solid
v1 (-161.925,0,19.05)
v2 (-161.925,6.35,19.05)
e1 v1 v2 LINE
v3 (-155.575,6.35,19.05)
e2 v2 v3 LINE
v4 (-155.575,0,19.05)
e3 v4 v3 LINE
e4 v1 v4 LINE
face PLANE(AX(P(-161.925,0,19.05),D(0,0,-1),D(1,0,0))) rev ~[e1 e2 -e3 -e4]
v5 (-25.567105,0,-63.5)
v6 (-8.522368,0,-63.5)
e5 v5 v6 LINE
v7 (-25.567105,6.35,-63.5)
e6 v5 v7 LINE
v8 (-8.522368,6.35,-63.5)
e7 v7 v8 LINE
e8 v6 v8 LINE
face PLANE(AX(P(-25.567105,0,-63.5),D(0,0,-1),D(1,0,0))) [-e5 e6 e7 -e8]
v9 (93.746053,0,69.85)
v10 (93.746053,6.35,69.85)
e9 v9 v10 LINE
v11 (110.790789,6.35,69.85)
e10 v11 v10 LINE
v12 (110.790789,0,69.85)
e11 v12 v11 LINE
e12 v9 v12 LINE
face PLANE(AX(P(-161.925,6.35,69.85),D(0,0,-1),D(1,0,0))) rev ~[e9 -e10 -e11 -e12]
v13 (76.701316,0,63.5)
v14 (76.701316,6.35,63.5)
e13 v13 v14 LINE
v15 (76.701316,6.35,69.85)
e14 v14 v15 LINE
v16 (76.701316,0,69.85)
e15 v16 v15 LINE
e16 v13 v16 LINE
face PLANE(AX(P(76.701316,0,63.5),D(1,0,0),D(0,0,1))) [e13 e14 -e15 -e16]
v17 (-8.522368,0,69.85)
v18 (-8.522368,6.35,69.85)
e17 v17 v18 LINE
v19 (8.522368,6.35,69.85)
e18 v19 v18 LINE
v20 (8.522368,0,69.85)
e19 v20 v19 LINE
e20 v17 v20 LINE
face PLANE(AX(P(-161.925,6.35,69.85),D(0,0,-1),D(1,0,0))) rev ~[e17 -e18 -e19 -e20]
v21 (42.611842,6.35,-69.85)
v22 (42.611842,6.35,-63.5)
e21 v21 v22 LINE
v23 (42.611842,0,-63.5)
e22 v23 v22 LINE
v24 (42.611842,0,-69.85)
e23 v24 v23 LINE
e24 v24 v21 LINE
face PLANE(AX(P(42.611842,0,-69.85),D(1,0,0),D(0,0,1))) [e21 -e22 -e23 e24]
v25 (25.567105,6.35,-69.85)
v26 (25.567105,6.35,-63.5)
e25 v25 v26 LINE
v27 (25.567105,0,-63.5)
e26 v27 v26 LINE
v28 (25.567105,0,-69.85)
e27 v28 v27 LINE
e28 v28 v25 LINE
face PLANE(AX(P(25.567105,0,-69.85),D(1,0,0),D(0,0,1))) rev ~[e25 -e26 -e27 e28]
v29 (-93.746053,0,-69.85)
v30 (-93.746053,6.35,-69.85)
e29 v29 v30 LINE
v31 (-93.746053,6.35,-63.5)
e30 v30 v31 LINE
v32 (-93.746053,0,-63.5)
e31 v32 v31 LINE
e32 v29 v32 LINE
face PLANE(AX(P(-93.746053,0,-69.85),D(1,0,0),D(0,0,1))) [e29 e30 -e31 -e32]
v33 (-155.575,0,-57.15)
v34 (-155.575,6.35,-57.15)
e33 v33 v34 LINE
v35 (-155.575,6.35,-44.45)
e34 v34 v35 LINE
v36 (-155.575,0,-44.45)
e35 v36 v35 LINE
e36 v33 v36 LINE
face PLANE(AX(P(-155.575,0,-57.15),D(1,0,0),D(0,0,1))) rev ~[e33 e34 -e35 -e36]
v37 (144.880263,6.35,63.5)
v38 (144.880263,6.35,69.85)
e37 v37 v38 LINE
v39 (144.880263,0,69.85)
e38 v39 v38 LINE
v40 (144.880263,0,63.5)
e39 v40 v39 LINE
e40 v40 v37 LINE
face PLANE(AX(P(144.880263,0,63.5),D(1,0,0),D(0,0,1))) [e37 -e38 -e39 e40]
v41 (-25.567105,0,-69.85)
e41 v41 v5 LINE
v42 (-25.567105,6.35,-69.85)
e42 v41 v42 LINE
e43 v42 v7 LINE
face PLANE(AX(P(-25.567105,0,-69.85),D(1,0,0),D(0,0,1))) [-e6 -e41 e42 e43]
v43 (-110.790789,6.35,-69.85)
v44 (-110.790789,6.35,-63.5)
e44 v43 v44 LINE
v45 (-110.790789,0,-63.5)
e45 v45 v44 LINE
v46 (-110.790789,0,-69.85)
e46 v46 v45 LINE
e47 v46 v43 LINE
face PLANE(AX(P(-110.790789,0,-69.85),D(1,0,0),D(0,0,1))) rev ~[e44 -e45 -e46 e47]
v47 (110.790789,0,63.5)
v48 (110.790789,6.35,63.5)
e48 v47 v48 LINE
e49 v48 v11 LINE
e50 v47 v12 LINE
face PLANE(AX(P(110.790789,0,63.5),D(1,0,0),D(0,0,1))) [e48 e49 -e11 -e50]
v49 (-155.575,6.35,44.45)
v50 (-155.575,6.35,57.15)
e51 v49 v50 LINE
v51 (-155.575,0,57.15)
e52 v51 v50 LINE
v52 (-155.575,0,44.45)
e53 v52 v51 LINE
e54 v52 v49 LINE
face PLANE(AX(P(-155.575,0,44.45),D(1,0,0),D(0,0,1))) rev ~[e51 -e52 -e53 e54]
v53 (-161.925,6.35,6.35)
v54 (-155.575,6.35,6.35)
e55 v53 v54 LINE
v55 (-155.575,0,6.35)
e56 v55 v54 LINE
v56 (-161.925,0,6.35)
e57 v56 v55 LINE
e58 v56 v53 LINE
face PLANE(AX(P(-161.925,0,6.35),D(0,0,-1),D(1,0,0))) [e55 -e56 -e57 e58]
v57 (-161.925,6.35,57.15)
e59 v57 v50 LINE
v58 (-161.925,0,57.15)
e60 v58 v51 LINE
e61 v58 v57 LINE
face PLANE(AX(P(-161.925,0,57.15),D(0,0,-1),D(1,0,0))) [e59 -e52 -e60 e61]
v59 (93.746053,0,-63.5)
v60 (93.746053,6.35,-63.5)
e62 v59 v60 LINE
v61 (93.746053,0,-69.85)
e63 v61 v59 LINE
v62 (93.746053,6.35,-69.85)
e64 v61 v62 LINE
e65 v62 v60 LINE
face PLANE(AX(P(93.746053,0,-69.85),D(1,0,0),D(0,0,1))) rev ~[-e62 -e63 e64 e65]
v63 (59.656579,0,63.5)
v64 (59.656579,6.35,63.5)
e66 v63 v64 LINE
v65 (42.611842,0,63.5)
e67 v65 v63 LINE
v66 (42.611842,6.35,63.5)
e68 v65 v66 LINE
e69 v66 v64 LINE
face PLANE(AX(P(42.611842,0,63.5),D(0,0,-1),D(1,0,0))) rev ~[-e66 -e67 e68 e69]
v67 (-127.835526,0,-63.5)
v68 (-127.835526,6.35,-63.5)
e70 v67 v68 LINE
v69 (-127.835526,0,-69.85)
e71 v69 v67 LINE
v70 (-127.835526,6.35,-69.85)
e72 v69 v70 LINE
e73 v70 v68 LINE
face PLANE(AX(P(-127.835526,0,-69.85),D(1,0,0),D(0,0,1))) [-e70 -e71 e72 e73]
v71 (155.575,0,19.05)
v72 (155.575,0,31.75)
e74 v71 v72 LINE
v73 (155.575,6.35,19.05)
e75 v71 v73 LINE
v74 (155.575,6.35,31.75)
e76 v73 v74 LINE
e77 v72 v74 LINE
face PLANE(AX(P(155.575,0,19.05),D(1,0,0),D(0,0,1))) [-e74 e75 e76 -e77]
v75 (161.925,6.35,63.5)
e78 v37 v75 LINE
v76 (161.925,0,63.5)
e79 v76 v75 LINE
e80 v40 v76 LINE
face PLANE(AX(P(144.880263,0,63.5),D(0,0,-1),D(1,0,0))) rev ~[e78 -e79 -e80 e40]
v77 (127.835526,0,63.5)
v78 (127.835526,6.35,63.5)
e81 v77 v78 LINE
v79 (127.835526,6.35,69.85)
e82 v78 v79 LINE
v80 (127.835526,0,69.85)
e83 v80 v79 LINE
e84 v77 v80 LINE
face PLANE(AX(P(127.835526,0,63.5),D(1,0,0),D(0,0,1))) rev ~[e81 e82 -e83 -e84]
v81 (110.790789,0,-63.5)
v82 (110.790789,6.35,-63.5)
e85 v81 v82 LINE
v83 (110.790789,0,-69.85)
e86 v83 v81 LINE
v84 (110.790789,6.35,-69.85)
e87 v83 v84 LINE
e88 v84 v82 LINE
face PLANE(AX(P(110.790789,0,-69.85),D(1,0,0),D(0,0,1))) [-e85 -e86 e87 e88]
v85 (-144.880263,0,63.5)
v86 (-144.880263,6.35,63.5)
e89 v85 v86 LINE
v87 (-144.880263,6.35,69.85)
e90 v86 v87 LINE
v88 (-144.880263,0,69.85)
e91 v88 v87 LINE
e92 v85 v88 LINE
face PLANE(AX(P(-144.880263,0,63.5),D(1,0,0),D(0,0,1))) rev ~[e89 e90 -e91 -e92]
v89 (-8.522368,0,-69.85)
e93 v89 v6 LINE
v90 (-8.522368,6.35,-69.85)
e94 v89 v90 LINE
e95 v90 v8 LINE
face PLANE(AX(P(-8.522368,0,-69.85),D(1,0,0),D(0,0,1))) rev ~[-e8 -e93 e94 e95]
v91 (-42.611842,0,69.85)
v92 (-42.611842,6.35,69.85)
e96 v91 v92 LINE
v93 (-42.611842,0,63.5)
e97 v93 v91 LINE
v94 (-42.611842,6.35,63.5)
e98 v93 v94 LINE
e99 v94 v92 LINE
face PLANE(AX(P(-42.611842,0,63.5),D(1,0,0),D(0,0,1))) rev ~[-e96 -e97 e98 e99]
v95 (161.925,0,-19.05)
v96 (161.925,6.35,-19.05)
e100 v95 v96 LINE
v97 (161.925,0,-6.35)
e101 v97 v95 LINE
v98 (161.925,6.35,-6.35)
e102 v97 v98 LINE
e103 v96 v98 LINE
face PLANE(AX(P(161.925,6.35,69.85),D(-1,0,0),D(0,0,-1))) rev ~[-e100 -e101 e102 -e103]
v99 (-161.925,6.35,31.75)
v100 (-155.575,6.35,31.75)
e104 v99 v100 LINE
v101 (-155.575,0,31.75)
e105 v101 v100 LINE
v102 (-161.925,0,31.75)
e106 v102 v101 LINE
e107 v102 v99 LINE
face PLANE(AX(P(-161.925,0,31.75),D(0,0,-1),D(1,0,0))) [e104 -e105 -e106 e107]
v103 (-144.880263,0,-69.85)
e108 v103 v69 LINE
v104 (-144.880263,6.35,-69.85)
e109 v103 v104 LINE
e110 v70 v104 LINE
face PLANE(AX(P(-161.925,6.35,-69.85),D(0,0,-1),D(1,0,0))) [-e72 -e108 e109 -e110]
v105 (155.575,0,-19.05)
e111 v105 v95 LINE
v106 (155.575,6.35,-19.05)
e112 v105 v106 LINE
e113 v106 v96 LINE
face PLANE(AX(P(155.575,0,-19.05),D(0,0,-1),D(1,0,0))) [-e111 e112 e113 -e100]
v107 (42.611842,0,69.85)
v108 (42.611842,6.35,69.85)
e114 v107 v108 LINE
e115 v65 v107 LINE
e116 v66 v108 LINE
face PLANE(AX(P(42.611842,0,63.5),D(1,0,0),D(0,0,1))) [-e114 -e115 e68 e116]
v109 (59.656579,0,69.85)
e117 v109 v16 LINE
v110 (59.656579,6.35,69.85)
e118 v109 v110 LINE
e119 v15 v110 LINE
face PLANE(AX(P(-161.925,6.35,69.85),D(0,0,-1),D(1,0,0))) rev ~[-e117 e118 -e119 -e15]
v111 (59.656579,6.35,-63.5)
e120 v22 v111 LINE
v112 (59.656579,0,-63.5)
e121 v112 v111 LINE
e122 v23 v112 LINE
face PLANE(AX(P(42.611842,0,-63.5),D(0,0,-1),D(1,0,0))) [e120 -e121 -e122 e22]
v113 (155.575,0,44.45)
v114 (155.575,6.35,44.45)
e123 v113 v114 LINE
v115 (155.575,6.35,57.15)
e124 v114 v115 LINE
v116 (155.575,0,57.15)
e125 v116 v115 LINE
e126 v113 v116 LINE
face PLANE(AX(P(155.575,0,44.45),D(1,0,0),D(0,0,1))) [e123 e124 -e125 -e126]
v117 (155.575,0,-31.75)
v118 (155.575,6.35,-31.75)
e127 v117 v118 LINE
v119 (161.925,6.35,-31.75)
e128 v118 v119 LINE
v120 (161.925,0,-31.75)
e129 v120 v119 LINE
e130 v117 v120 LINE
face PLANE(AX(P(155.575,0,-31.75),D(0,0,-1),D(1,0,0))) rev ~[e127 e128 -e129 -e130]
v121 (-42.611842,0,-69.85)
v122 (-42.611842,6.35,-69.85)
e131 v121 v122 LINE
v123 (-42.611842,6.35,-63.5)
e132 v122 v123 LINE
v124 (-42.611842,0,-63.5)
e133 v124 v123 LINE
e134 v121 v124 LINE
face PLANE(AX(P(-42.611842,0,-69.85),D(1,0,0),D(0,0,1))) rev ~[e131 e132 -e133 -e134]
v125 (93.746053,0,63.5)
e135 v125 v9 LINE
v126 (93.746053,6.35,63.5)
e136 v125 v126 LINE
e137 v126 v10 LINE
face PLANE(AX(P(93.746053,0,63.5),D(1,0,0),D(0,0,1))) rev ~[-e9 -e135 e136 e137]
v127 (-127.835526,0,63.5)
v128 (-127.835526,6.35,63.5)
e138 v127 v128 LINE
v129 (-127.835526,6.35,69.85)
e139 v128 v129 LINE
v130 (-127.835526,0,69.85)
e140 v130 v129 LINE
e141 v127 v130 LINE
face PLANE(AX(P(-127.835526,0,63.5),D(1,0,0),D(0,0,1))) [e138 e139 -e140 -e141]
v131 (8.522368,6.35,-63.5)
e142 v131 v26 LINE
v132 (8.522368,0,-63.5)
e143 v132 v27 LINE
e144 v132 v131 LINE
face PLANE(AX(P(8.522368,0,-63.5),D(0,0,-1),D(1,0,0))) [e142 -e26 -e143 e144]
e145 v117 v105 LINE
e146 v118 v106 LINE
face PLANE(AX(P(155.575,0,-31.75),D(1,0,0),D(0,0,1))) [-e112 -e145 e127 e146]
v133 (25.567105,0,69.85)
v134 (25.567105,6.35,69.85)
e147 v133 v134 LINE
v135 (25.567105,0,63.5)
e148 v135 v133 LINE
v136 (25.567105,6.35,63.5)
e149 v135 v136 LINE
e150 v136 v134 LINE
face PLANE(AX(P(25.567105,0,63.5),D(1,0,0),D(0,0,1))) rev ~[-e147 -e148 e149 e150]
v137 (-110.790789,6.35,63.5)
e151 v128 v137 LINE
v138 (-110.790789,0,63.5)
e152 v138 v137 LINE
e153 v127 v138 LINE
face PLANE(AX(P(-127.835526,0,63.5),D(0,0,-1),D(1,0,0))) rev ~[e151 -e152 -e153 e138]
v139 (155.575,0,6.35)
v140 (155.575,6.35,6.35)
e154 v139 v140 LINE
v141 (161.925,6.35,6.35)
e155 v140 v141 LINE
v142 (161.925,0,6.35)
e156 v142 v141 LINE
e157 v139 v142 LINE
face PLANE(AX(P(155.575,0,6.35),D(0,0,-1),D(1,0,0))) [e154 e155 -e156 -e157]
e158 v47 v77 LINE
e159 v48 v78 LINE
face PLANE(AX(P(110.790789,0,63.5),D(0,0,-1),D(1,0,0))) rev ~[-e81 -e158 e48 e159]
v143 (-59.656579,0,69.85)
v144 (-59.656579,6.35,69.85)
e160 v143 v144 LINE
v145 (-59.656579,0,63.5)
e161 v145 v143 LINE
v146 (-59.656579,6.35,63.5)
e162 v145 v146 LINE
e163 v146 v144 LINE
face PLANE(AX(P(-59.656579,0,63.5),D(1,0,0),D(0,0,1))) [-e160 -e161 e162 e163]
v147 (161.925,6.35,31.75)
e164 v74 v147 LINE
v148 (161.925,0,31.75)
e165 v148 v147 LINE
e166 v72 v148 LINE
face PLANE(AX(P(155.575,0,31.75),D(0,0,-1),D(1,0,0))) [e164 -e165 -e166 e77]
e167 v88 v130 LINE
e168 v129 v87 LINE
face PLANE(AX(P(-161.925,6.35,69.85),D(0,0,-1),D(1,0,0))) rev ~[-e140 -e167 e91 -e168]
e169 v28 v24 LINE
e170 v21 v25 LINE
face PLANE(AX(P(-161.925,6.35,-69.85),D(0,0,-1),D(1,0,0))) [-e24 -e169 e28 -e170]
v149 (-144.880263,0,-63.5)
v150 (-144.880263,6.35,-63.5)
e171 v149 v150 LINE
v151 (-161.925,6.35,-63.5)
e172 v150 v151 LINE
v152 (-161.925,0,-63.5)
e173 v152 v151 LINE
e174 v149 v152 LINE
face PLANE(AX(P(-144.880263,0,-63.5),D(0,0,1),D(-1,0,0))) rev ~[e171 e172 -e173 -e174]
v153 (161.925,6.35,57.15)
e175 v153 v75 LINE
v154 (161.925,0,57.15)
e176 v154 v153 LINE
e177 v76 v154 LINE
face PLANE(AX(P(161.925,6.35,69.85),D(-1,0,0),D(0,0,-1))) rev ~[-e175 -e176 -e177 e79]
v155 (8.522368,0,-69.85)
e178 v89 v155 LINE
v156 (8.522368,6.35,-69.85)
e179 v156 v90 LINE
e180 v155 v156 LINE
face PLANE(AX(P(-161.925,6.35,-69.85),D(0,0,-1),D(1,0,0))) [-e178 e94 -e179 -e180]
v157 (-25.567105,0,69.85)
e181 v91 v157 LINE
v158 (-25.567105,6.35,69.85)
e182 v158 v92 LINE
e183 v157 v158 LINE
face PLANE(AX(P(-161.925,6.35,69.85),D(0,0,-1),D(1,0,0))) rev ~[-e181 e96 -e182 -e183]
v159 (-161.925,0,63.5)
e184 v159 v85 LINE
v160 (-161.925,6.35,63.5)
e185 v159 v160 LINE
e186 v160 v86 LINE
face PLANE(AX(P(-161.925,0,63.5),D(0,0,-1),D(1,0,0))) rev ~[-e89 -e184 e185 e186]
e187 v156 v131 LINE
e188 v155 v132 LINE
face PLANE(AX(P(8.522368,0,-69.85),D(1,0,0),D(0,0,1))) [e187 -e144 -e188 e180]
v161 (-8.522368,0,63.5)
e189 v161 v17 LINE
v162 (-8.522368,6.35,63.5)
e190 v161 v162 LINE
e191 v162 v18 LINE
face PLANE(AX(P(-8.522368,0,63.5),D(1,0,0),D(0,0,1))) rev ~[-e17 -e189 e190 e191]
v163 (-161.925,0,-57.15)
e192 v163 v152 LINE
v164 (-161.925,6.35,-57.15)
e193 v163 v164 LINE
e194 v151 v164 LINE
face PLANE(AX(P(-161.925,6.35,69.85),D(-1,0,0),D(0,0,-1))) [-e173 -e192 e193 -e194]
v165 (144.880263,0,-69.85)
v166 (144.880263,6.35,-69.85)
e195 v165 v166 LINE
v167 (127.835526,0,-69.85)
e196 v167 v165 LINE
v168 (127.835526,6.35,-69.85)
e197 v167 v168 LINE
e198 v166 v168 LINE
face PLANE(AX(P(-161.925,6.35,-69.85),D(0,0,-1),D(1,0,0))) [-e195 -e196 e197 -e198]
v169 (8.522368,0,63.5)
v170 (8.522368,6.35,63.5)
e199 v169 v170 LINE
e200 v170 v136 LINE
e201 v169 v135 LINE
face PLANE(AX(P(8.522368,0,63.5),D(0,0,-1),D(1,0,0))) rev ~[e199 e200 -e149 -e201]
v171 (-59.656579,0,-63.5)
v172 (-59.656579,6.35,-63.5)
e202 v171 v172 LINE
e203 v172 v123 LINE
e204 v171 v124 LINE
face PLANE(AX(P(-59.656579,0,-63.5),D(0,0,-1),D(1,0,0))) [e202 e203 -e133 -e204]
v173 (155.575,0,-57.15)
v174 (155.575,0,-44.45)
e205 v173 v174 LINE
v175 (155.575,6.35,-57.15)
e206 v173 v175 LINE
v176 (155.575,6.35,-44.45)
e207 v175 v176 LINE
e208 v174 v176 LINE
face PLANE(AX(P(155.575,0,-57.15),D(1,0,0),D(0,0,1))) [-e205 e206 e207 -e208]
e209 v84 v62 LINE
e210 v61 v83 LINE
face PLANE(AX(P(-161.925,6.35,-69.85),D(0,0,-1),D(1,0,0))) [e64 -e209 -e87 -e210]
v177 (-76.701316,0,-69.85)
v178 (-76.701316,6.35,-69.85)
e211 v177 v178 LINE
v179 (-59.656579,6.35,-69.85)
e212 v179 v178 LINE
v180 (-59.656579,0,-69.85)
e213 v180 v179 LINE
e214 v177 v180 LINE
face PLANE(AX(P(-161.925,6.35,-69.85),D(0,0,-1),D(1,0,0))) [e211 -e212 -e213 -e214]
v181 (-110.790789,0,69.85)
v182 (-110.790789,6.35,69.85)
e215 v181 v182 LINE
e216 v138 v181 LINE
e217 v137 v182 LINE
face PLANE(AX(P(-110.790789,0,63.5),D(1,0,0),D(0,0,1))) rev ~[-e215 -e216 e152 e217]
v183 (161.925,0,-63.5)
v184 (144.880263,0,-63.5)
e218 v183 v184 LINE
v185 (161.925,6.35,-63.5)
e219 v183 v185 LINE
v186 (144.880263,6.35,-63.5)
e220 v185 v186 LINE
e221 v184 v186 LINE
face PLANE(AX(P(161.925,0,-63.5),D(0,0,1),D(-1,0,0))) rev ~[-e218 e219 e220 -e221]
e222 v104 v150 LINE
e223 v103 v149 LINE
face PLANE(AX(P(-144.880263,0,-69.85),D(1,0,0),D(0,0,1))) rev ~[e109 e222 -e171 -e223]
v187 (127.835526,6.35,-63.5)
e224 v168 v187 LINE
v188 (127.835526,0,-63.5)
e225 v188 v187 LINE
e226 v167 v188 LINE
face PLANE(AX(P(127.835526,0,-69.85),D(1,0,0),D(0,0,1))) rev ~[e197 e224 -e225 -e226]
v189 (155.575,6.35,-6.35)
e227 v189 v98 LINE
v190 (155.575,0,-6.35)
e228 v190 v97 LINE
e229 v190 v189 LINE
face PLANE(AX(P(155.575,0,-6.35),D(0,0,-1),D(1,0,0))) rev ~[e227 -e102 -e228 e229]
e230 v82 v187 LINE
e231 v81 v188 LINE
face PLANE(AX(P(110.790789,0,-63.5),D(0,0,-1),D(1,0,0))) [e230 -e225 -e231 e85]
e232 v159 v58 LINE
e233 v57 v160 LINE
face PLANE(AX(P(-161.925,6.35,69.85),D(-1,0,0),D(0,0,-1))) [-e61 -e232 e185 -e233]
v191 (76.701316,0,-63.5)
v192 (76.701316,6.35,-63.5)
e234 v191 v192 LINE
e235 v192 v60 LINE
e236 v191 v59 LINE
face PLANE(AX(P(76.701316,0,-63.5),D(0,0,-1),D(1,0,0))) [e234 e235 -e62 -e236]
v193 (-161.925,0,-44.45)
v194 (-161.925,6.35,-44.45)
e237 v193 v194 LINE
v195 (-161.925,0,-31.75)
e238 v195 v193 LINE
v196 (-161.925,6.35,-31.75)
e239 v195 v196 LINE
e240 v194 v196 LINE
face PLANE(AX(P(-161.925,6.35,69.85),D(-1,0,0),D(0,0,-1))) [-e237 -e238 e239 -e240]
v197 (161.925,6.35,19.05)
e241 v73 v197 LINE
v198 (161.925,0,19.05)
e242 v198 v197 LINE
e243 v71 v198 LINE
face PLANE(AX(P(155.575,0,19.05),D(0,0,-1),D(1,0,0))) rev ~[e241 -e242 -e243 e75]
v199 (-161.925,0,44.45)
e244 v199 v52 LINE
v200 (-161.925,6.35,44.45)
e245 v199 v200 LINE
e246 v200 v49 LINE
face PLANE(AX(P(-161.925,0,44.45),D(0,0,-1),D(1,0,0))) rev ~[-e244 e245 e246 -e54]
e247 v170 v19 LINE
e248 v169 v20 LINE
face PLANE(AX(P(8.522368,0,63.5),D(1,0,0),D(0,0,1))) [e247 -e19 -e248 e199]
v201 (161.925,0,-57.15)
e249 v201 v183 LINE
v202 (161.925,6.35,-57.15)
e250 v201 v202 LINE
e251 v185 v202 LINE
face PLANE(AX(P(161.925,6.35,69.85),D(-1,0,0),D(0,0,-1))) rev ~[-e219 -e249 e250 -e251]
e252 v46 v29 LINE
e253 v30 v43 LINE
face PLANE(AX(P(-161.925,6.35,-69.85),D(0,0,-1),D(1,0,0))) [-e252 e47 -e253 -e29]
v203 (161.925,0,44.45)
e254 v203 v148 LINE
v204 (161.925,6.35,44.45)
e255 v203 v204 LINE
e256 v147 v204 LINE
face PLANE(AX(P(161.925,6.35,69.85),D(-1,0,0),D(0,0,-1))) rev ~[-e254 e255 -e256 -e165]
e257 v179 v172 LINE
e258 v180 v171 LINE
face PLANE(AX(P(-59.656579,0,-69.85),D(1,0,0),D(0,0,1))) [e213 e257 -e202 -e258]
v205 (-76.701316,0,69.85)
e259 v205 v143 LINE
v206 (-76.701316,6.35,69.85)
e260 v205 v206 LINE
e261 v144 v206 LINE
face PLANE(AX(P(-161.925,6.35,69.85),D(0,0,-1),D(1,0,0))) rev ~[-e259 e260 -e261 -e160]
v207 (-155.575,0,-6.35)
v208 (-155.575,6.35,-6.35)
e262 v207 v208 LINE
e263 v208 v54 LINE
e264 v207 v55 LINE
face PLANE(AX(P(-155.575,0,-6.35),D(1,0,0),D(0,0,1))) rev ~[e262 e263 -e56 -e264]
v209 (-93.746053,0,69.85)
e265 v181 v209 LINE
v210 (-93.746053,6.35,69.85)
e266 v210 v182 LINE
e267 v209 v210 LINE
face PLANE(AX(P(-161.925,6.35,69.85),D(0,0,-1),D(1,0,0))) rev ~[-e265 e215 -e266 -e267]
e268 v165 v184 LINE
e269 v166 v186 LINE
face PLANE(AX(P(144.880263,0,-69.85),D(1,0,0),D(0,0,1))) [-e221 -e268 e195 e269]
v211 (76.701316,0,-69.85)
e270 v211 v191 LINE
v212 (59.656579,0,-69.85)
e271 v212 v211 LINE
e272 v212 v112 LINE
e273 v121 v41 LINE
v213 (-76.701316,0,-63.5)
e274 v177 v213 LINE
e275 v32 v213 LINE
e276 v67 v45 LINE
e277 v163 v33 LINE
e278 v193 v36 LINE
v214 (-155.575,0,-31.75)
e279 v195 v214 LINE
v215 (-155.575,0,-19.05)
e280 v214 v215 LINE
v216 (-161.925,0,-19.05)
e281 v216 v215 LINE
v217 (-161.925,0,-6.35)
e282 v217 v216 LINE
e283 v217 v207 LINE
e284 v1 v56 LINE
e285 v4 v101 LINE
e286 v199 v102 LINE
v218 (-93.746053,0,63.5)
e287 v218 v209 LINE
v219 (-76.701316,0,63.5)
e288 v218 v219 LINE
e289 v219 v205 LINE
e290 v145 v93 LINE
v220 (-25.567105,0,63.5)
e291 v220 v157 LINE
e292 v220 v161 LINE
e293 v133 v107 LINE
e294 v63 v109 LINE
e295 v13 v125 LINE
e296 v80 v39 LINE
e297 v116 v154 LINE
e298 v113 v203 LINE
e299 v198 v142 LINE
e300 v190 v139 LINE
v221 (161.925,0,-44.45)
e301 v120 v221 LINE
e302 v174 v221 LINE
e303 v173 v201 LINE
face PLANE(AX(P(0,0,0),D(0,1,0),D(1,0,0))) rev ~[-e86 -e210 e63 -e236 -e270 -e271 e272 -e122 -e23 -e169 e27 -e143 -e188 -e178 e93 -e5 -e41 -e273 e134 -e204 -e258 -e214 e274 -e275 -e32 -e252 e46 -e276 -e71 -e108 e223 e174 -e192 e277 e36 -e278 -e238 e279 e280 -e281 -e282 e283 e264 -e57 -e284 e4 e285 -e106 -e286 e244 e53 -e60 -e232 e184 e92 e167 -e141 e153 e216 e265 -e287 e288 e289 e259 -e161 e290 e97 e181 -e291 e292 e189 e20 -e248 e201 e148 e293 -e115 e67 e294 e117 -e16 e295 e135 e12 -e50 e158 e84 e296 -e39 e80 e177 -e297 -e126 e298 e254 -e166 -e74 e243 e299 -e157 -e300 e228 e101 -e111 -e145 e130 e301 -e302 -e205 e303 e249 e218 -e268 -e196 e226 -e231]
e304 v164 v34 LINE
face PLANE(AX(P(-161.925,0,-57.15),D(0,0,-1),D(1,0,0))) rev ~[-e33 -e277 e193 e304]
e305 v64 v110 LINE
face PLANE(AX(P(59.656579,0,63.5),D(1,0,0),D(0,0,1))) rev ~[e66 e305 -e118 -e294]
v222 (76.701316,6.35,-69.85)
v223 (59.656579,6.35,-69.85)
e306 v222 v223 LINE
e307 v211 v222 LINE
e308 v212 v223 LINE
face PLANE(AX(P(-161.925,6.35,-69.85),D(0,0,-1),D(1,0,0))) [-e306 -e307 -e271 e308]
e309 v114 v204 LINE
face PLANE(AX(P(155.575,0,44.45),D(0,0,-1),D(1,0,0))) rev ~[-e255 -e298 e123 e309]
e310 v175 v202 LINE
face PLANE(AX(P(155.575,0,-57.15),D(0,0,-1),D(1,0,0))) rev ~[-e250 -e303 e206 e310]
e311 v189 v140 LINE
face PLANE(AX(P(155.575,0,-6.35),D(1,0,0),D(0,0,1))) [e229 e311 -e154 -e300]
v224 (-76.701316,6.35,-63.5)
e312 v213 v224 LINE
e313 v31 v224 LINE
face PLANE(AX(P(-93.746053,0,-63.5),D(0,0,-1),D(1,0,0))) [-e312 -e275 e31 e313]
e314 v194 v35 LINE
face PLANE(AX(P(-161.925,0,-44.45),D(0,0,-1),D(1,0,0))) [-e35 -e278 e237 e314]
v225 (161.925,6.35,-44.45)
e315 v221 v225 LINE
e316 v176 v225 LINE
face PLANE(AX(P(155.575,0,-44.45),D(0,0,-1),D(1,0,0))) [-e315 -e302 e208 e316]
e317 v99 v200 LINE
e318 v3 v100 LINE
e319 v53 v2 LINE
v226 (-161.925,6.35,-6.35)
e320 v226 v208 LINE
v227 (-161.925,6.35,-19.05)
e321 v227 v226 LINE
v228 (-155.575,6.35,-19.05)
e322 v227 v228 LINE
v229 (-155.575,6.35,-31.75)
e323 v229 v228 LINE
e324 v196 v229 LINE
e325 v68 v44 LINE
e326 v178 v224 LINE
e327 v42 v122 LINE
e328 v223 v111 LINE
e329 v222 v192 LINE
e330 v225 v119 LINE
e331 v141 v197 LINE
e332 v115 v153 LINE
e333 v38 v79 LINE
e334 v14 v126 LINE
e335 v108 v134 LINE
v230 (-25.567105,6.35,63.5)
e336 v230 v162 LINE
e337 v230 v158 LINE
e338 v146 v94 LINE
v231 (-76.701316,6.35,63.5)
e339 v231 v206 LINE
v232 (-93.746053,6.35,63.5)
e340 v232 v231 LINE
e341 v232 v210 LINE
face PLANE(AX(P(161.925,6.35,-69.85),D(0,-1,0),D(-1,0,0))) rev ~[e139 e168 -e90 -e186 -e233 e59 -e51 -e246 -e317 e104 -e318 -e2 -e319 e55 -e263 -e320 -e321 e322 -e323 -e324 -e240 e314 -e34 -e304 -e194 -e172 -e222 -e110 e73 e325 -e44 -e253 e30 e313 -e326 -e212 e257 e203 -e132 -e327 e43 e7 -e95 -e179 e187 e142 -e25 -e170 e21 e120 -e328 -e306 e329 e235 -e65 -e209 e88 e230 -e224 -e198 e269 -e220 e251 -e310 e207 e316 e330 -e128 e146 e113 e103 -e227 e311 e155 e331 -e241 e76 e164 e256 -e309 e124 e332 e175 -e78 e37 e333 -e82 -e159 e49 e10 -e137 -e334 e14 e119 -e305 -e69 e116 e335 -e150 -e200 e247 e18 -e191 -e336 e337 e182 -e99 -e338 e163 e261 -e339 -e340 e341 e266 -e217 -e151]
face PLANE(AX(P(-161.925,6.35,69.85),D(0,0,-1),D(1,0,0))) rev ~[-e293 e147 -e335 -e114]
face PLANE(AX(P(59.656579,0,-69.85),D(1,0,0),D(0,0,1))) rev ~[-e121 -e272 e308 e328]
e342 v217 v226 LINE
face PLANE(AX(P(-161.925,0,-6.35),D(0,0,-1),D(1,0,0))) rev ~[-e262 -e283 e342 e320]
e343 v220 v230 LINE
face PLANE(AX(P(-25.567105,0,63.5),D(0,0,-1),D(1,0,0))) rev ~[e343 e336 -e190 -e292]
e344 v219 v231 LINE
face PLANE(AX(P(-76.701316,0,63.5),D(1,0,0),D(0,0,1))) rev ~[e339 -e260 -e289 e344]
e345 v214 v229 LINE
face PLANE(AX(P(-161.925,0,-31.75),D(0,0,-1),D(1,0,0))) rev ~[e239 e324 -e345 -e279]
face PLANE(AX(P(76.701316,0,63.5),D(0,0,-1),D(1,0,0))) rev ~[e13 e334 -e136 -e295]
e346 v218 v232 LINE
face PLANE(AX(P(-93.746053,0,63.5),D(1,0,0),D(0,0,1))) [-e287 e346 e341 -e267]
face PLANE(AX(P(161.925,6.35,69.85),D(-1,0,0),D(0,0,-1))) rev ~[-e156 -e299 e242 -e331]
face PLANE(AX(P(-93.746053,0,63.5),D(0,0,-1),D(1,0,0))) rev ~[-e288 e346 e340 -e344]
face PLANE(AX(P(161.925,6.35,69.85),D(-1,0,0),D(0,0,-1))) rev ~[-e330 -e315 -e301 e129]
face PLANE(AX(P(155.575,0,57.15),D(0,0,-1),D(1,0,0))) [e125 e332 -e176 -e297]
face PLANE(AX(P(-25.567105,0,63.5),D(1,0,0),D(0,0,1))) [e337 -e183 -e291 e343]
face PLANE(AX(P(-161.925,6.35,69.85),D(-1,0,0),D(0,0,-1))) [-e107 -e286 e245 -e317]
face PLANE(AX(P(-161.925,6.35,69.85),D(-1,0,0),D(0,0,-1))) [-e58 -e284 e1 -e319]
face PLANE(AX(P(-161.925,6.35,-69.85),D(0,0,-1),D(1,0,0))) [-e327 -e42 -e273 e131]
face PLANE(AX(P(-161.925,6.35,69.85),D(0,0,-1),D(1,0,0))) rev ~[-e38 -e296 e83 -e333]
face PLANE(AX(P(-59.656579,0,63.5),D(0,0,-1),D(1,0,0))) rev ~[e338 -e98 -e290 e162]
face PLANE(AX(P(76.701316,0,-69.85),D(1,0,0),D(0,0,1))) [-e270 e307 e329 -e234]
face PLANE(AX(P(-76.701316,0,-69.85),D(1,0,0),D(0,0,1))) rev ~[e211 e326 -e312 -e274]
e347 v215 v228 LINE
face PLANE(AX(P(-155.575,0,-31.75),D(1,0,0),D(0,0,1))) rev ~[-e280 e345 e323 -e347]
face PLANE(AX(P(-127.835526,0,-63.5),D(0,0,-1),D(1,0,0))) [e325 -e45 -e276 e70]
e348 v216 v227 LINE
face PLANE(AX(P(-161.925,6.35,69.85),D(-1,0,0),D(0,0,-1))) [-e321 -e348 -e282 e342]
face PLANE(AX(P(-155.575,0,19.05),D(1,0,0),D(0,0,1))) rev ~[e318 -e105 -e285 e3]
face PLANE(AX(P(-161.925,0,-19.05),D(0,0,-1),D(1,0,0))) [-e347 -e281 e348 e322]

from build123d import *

# Parameters (mm, degrees)
SKETCH1_W              = 323.85
SKETCH1_H              = 139.7
BOSS_EXTRUDE1_DEPTH    = 6.35
SKETCH2_W              = 323.85
SKETCH2_H              = 139.7
SKETCH2_W_2            = 311.15
SKETCH2_H_2            = 127
BOSS_EXTRUDE2_DEPTH    = 298.45
SKETCH3_W              = 6.35
SKETCH3_H              = 16.933333333
SKETCH3_H_2            = 16.933333334
DOOR_SLOT_DEPTH        = 12.7
SKETCH4_W              = 6.35
SKETCH4_H              = 15.875
DOOR_GUIDE_HOLES_DEPTH = 6.35
LEVER_HOLES_W          = 9.652
LEVER_HOLES_H          = 6.35
LEVER_HOLES_W_2        = 6.35
CUT_EXTRUDE1_DEPTH     = 140.7
CUT_EXTRUDE2_REACH     = 325.85
SKETCH7_R              = 26.9875
CUT_EXTRUDE3_REACH     = 325.85
SKETCH8_R              = 3.175
SKETCH9_W              = 323.85
SKETCH9_H              = 298.45
CUT_EXTRUDE4_DEPTH     = 140.7
SKETCH10_W             = 10.694736842
SKETCH10_H             = 6.35
SKETCH10_W_2           = 6.35
SKETCH10_W_3           = 17.044736842
SKETCH10_W_4           = 17.044736843
SKETCH10_H_2           = 12.7
CUT_EXTRUDE6_DEPTH     = 7.35


with BuildPart() as part:
    # Sketch1 → Boss-Extrude1 (new body)
    with BuildSketch(Plane(origin=(0, 0, 0), x_dir=(1, 0, 0), z_dir=(0, 1, 0))):
        Rectangle(SKETCH1_W, SKETCH1_H)
    extrude(amount=BOSS_EXTRUDE1_DEPTH)

    # Sketch2 → Boss-Extrude2 (add)
    with BuildSketch(Plane(origin=(0, 6.35, 0), x_dir=(1, 0, 0), z_dir=(0, 1, 0))):
        Rectangle(SKETCH2_W, SKETCH2_H)
        Rectangle(SKETCH2_W_2, SKETCH2_H_2, mode=Mode.SUBTRACT)
    extrude(amount=BOSS_EXTRUDE2_DEPTH)

    # Sketch3 → Door Slot (cut)
    with BuildSketch(Plane.XY.offset(69.85)):
        with BuildLine():
            Line((-53.975, 283.21), (-53.975, 6.35))
            Line((-53.975, 6.35), (-47.371, 6.35))
            Line((-47.371, 6.35), (-47.371, 292.354))
            Line((-47.371, 292.354), (-66.929, 292.354))
            Line((-66.929, 292.354), (-66.929, 285.75))
            Line((-66.929, 285.75), (-56.515, 285.75))
            ThreePointArc((-56.515, 285.75), (-54.718948776, 285.006051224), (-53.975, 283.21))
        make_face()
        with Locations((-37.846, 80.433333334)):
            Rectangle(SKETCH3_W, SKETCH3_H)
        with Locations((-37.846, 50.8)):
            Rectangle(SKETCH3_W, SKETCH3_H_2)
        with Locations((-37.846, 21.166666667)):
            Rectangle(SKETCH3_W, SKETCH3_H)
    extrude(amount=-DOOR_SLOT_DEPTH, mode=Mode.SUBTRACT)

    # Sketch4 → Door Guide Holes (cut)
    with BuildSketch(Plane.XY.offset(-63.5)):
        with Locations((-70.104, 284.1625)):
            Rectangle(SKETCH4_W, SKETCH4_H)
        with Locations((-70.104, 255.5875)):
            Rectangle(SKETCH4_W, SKETCH4_H)
        with Locations((-70.104, 227.0125)):
            Rectangle(SKETCH4_W, SKETCH4_H)
        with Locations((-70.104, 198.4375)):
            Rectangle(SKETCH4_W, SKETCH4_H)
        with Locations((-70.104, 169.8625)):
            Rectangle(SKETCH4_W, SKETCH4_H)
        with Locations((-70.104, 141.2875)):
            Rectangle(SKETCH4_W, SKETCH4_H)
        with Locations((-70.104, 112.7125)):
            Rectangle(SKETCH4_W, SKETCH4_H)
        with Locations((-70.104, 84.1375)):
            Rectangle(SKETCH4_W, SKETCH4_H)
        with Locations((-70.104, 55.5625)):
            Rectangle(SKETCH4_W, SKETCH4_H)
        with Locations((-70.104, 26.9875)):
            Rectangle(SKETCH4_W, SKETCH4_H)
    door_guide_holes = extrude(amount=-DOOR_GUIDE_HOLES_DEPTH, mode=Mode.SUBTRACT)

    # Mirror1: Door Guide Holes across plane
    add(door_guide_holes.mirror(Plane.ZY.offset(57.15)), mode=Mode.SUBTRACT)

    # Lever Holes → Cut-Extrude1 (cut, through all)
    with BuildSketch(Plane.XY.offset(69.85)):
        with Locations((54.102, 28.575)):
            Rectangle(LEVER_HOLES_W, LEVER_HOLES_H)
        with Locations((39.3065, 15.875)):
            Rectangle(LEVER_HOLES_W_2, LEVER_HOLES_H)
        with Locations((68.8975, 15.875)):
            Rectangle(LEVER_HOLES_W_2, LEVER_HOLES_H)
    extrude(amount=-CUT_EXTRUDE1_DEPTH, mode=Mode.SUBTRACT)

    # Sketch7 → Cut-Extrude2 (cut, up to next)
    with BuildSketch(Plane(origin=(161.925, 0, 0), x_dir=(0, 0, -1), z_dir=(1, 0, 0)), mode=Mode.PRIVATE) as cut_extrude2_sk1:
        with Locations((0, 55.372)):
            Circle(SKETCH7_R)
    cut_extrude2_tool1 = extrude(cut_extrude2_sk1.sketch, amount=-CUT_EXTRUDE2_REACH, mode=Mode.PRIVATE) & part.part
    add(cut_extrude2_tool1.solids().sort_by_distance((161.925, 55.372, 0))[0], mode=Mode.SUBTRACT)
    # Sketch7 → Cut-Extrude2 (cut, up to next)
    with BuildSketch(Plane(origin=(161.925, 0, 0), x_dir=(0, 0, -1), z_dir=(1, 0, 0)), mode=Mode.PRIVATE) as cut_extrude2_sk2:
        with BuildLine():
            Line((-37.211, 89.408), (-37.211, 92.583))
            Line((-37.211, 92.583), (-34.036, 92.583))
            ThreePointArc((-34.036, 92.583), (-39.45606403, 94.82806403), (-37.211, 89.408))
        make_face()
    cut_extrude2_tool2 = extrude(cut_extrude2_sk2.sketch, amount=-CUT_EXTRUDE2_REACH, mode=Mode.PRIVATE) & part.part
    add(cut_extrude2_tool2.solids().sort_by_distance((161.925, 93.032171, 37.660171))[0], mode=Mode.SUBTRACT)
    # Sketch7 → Cut-Extrude2 (cut, up to next)
    with BuildSketch(Plane(origin=(161.925, 0, 0), x_dir=(0, 0, -1), z_dir=(1, 0, 0)), mode=Mode.PRIVATE) as cut_extrude2_sk3:
        with BuildLine():
            Line((-34.036, 92.583), (-37.211, 92.583))
            Line((-37.211, 92.583), (-37.211, 89.408))
            ThreePointArc((-37.211, 89.408), (-34.96593597, 90.33793597), (-34.036, 92.583))
        make_face()
    cut_extrude2_tool3 = extrude(cut_extrude2_sk3.sketch, amount=-CUT_EXTRUDE2_REACH, mode=Mode.PRIVATE) & part.part
    add(cut_extrude2_tool3.solids().sort_by_distance((161.925, 91.235488, 35.863488))[0], mode=Mode.SUBTRACT)
    # Sketch7 → Cut-Extrude2 (cut, up to next)
    with BuildSketch(Plane(origin=(161.925, 0, 0), x_dir=(0, 0, -1), z_dir=(1, 0, 0)), mode=Mode.PRIVATE) as cut_extrude2_sk4:
        with BuildLine():
            Line((-37.211, 89.408), (-37.211, 92.583))
            Line((-37.211, 92.583), (-34.036, 92.583))
            ThreePointArc((-34.036, 92.583), (-39.45606403, 94.82806403), (-37.211, 89.408))
        make_face()
    cut_extrude2_tool4 = extrude(cut_extrude2_sk4.sketch, amount=-CUT_EXTRUDE2_REACH, mode=Mode.PRIVATE) & part.part
    add(cut_extrude2_tool4.solids().sort_by_distance((161.925, 93.032171, 37.660171))[0], mode=Mode.SUBTRACT)
    # Sketch7 → Cut-Extrude2 (cut, up to next)
    with BuildSketch(Plane(origin=(161.925, 0, 0), x_dir=(0, 0, -1), z_dir=(1, 0, 0)), mode=Mode.PRIVATE) as cut_extrude2_sk5:
        with BuildLine():
            Line((-34.036, 92.583), (-37.211, 92.583))
            Line((-37.211, 92.583), (-37.211, 89.408))
            ThreePointArc((-37.211, 89.408), (-34.96593597, 90.33793597), (-34.036, 92.583))
        make_face()
    cut_extrude2_tool5 = extrude(cut_extrude2_sk5.sketch, amount=-CUT_EXTRUDE2_REACH, mode=Mode.PRIVATE) & part.part
    add(cut_extrude2_tool5.solids().sort_by_distance((161.925, 91.235488, 35.863488))[0], mode=Mode.SUBTRACT)
    # Sketch7 → Cut-Extrude2 (cut, up to next)
    with BuildSketch(Plane(origin=(161.925, 0, 0), x_dir=(0, 0, -1), z_dir=(1, 0, 0)), mode=Mode.PRIVATE) as cut_extrude2_sk6:
        with BuildLine():
            ThreePointArc((40.386, 92.583), (37.211, 95.758), (34.036, 92.583))
            Line((34.036, 92.583), (37.211, 92.583))
            Line((37.211, 92.583), (37.211, 89.408))
            ThreePointArc((37.211, 89.408), (39.45606403, 90.33793597), (40.386, 92.583))
        make_face()
    cut_extrude2_tool6 = extrude(cut_extrude2_sk6.sketch, amount=-CUT_EXTRUDE2_REACH, mode=Mode.PRIVATE) & part.part
    add(cut_extrude2_tool6.solids().sort_by_distance((161.925, 93.032171, -37.660171))[0], mode=Mode.SUBTRACT)
    # Sketch7 → Cut-Extrude2 (cut, up to next)
    with BuildSketch(Plane(origin=(161.925, 0, 0), x_dir=(0, 0, -1), z_dir=(1, 0, 0)), mode=Mode.PRIVATE) as cut_extrude2_sk7:
        with BuildLine():
            Line((37.211, 92.583), (34.036, 92.583))
            ThreePointArc((34.036, 92.583), (34.96593597, 90.33793597), (37.211, 89.408))
            Line((37.211, 89.408), (37.211, 92.583))
        make_face()
    cut_extrude2_tool7 = extrude(cut_extrude2_sk7.sketch, amount=-CUT_EXTRUDE2_REACH, mode=Mode.PRIVATE) & part.part
    add(cut_extrude2_tool7.solids().sort_by_distance((161.925, 91.235488, -35.863488))[0], mode=Mode.SUBTRACT)
    # Sketch7 → Cut-Extrude2 (cut, up to next)
    with BuildSketch(Plane(origin=(161.925, 0, 0), x_dir=(0, 0, -1), z_dir=(1, 0, 0)), mode=Mode.PRIVATE) as cut_extrude2_sk8:
        with BuildLine():
            ThreePointArc((40.386, 92.583), (37.211, 95.758), (34.036, 92.583))
            Line((34.036, 92.583), (37.211, 92.583))
            Line((37.211, 92.583), (37.211, 89.408))
            ThreePointArc((37.211, 89.408), (39.45606403, 90.33793597), (40.386, 92.583))
        make_face()
    cut_extrude2_tool8 = extrude(cut_extrude2_sk8.sketch, amount=-CUT_EXTRUDE2_REACH, mode=Mode.PRIVATE) & part.part
    add(cut_extrude2_tool8.solids().sort_by_distance((161.925, 93.032171, -37.660171))[0], mode=Mode.SUBTRACT)
    # Sketch7 → Cut-Extrude2 (cut, up to next)
    with BuildSketch(Plane(origin=(161.925, 0, 0), x_dir=(0, 0, -1), z_dir=(1, 0, 0)), mode=Mode.PRIVATE) as cut_extrude2_sk9:
        with BuildLine():
            Line((37.211, 92.583), (34.036, 92.583))
            ThreePointArc((34.036, 92.583), (34.96593597, 90.33793597), (37.211, 89.408))
            Line((37.211, 89.408), (37.211, 92.583))
        make_face()
    cut_extrude2_tool9 = extrude(cut_extrude2_sk9.sketch, amount=-CUT_EXTRUDE2_REACH, mode=Mode.PRIVATE) & part.part
    add(cut_extrude2_tool9.solids().sort_by_distance((161.925, 91.235488, -35.863488))[0], mode=Mode.SUBTRACT)
    # Sketch7 → Cut-Extrude2 (cut, up to next)
    with BuildSketch(Plane(origin=(161.925, 0, 0), x_dir=(0, 0, -1), z_dir=(1, 0, 0)), mode=Mode.PRIVATE) as cut_extrude2_sk10:
        with BuildLine():
            ThreePointArc((-34.036, 18.161), (-34.96593597, 20.40606403), (-37.211, 21.336))
            Line((-37.211, 21.336), (-37.211, 18.161))
            Line((-37.211, 18.161), (-34.036, 18.161))
        make_face()
    cut_extrude2_tool10 = extrude(cut_extrude2_sk10.sketch, amount=-CUT_EXTRUDE2_REACH, mode=Mode.PRIVATE) & part.part
    add(cut_extrude2_tool10.solids().sort_by_distance((161.925, 19.508512, 35.863488))[0], mode=Mode.SUBTRACT)
    # Sketch7 → Cut-Extrude2 (cut, up to next)
    with BuildSketch(Plane(origin=(161.925, 0, 0), x_dir=(0, 0, -1), z_dir=(1, 0, 0)), mode=Mode.PRIVATE) as cut_extrude2_sk11:
        with BuildLine():
            Line((-37.211, 18.161), (-37.211, 21.336))
            ThreePointArc((-37.211, 21.336), (-39.45606403, 15.91593597), (-34.036, 18.161))
            Line((-34.036, 18.161), (-37.211, 18.161))
        make_face()
    cut_extrude2_tool11 = extrude(cut_extrude2_sk11.sketch, amount=-CUT_EXTRUDE2_REACH, mode=Mode.PRIVATE) & part.part
    add(cut_extrude2_tool11.solids().sort_by_distance((161.925, 17.711829, 37.660171))[0], mode=Mode.SUBTRACT)
    # Sketch7 → Cut-Extrude2 (cut, up to next)
    with BuildSketch(Plane(origin=(161.925, 0, 0), x_dir=(0, 0, -1), z_dir=(1, 0, 0)), mode=Mode.PRIVATE) as cut_extrude2_sk12:
        with BuildLine():
            ThreePointArc((-34.036, 18.161), (-34.96593597, 20.40606403), (-37.211, 21.336))
            Line((-37.211, 21.336), (-37.211, 18.161))
            Line((-37.211, 18.161), (-34.036, 18.161))
        make_face()
    cut_extrude2_tool12 = extrude(cut_extrude2_sk12.sketch, amount=-CUT_EXTRUDE2_REACH, mode=Mode.PRIVATE) & part.part
    add(cut_extrude2_tool12.solids().sort_by_distance((161.925, 19.508512, 35.863488))[0], mode=Mode.SUBTRACT)
    # Sketch7 → Cut-Extrude2 (cut, up to next)
    with BuildSketch(Plane(origin=(161.925, 0, 0), x_dir=(0, 0, -1), z_dir=(1, 0, 0)), mode=Mode.PRIVATE) as cut_extrude2_sk13:
        with BuildLine():
            Line((-37.211, 18.161), (-37.211, 21.336))
            ThreePointArc((-37.211, 21.336), (-39.45606403, 15.91593597), (-34.036, 18.161))
            Line((-34.036, 18.161), (-37.211, 18.161))
        make_face()
    cut_extrude2_tool13 = extrude(cut_extrude2_sk13.sketch, amount=-CUT_EXTRUDE2_REACH, mode=Mode.PRIVATE) & part.part
    add(cut_extrude2_tool13.solids().sort_by_distance((161.925, 17.711829, 37.660171))[0], mode=Mode.SUBTRACT)
    # Sketch7 → Cut-Extrude2 (cut, up to next)
    with BuildSketch(Plane(origin=(161.925, 0, 0), x_dir=(0, 0, -1), z_dir=(1, 0, 0)), mode=Mode.PRIVATE) as cut_extrude2_sk14:
        with BuildLine():
            ThreePointArc((40.386, 18.161), (39.45606403, 20.40606403), (37.211, 21.336))
            Line((37.211, 21.336), (37.211, 18.161))
            Line((37.211, 18.161), (34.036, 18.161))
            ThreePointArc((34.036, 18.161), (37.211, 14.986), (40.386, 18.161))
        make_face()
    cut_extrude2_tool14 = extrude(cut_extrude2_sk14.sketch, amount=-CUT_EXTRUDE2_REACH, mode=Mode.PRIVATE) & part.part
    add(cut_extrude2_tool14.solids().sort_by_distance((161.925, 17.711829, -37.660171))[0], mode=Mode.SUBTRACT)
    # Sketch7 → Cut-Extrude2 (cut, up to next)
    with BuildSketch(Plane(origin=(161.925, 0, 0), x_dir=(0, 0, -1), z_dir=(1, 0, 0)), mode=Mode.PRIVATE) as cut_extrude2_sk15:
        with BuildLine():
            Line((37.211, 18.161), (37.211, 21.336))
            ThreePointArc((37.211, 21.336), (34.96593597, 20.40606403), (34.036, 18.161))
            Line((34.036, 18.161), (37.211, 18.161))
        make_face()
    cut_extrude2_tool15 = extrude(cut_extrude2_sk15.sketch, amount=-CUT_EXTRUDE2_REACH, mode=Mode.PRIVATE) & part.part
    add(cut_extrude2_tool15.solids().sort_by_distance((161.925, 19.508512, -35.863488))[0], mode=Mode.SUBTRACT)
    # Sketch7 → Cut-Extrude2 (cut, up to next)
    with BuildSketch(Plane(origin=(161.925, 0, 0), x_dir=(0, 0, -1), z_dir=(1, 0, 0)), mode=Mode.PRIVATE) as cut_extrude2_sk16:
        with BuildLine():
            ThreePointArc((40.386, 18.161), (39.45606403, 20.40606403), (37.211, 21.336))
            Line((37.211, 21.336), (37.211, 18.161))
            Line((37.211, 18.161), (34.036, 18.161))
            ThreePointArc((34.036, 18.161), (37.211, 14.986), (40.386, 18.161))
        make_face()
    cut_extrude2_tool16 = extrude(cut_extrude2_sk16.sketch, amount=-CUT_EXTRUDE2_REACH, mode=Mode.PRIVATE) & part.part
    add(cut_extrude2_tool16.solids().sort_by_distance((161.925, 17.711829, -37.660171))[0], mode=Mode.SUBTRACT)
    # Sketch7 → Cut-Extrude2 (cut, up to next)
    with BuildSketch(Plane(origin=(161.925, 0, 0), x_dir=(0, 0, -1), z_dir=(1, 0, 0)), mode=Mode.PRIVATE) as cut_extrude2_sk17:
        with BuildLine():
            Line((37.211, 18.161), (37.211, 21.336))
            ThreePointArc((37.211, 21.336), (34.96593597, 20.40606403), (34.036, 18.161))
            Line((34.036, 18.161), (37.211, 18.161))
        make_face()
    cut_extrude2_tool17 = extrude(cut_extrude2_sk17.sketch, amount=-CUT_EXTRUDE2_REACH, mode=Mode.PRIVATE) & part.part
    add(cut_extrude2_tool17.solids().sort_by_distance((161.925, 19.508512, -35.863488))[0], mode=Mode.SUBTRACT)

    # Sketch8 → Cut-Extrude3 (cut, up to next)
    with BuildSketch(Plane.ZY.offset(161.925), mode=Mode.PRIVATE) as cut_extrude3_sk1:
        with Locations((0, 19.05)):
            Circle(SKETCH8_R)
    cut_extrude3_tool1 = extrude(cut_extrude3_sk1.sketch, amount=-CUT_EXTRUDE3_REACH, mode=Mode.PRIVATE) & part.part
    add(cut_extrude3_tool1.solids().sort_by_distance((-161.925, 19.05, 0))[0], mode=Mode.SUBTRACT)

    # Sketch9 → Cut-Extrude4 (cut, through all)
    with BuildSketch(Plane(origin=(0, 0, -69.85), x_dir=(-1, 0, 0), z_dir=(0, 0, -1))):
        with Locations((0, 155.575)):
            Rectangle(SKETCH9_W, SKETCH9_H)
    extrude(amount=-CUT_EXTRUDE4_DEPTH, mode=Mode.SUBTRACT)

    # Sketch10 → Cut-Extrude6 (cut, through all)
    with BuildSketch(Plane.XZ):
        with Locations((-150.227631579, 66.675)):
            Rectangle(SKETCH10_W, SKETCH10_H)
        with Locations((-158.75, 66.675)):
            Rectangle(SKETCH10_W_2, SKETCH10_H)
        with Locations((-119.313157895, 66.675)):
            Rectangle(SKETCH10_W_3, SKETCH10_H)
        with Locations((-85.223684211, 66.675)):
            Rectangle(SKETCH10_W_4, SKETCH10_H)
        with Locations((-51.134210526, 66.675)):
            Rectangle(SKETCH10_W_3, SKETCH10_H)
        with Locations((-17.044736842, 66.675)):
            Rectangle(SKETCH10_W_3, SKETCH10_H)
        with Locations((17.044736842, 66.675)):
            Rectangle(SKETCH10_W_3, SKETCH10_H)
        with Locations((51.134210526, 66.675)):
            Rectangle(SKETCH10_W_3, SKETCH10_H)
        with Locations((85.223684211, 66.675)):
            Rectangle(SKETCH10_W_4, SKETCH10_H)
        with Locations((119.313157895, 66.675)):
            Rectangle(SKETCH10_W_3, SKETCH10_H)
        with Locations((150.227631579, 66.675)):
            Rectangle(SKETCH10_W, SKETCH10_H)
        with Locations((158.75, 66.675)):
            Rectangle(SKETCH10_W_2, SKETCH10_H)
        with Locations((158.75, 50.8)):
            Rectangle(SKETCH10_W_2, SKETCH10_H_2)
        with Locations((158.75, 25.4)):
            Rectangle(SKETCH10_W_2, SKETCH10_H_2)
        with Locations((158.75, 0)):
            Rectangle(SKETCH10_W_2, SKETCH10_H_2)
        with Locations((158.75, -25.4)):
            Rectangle(SKETCH10_W_2, SKETCH10_H_2)
        with Locations((158.75, -50.8)):
            Rectangle(SKETCH10_W_2, SKETCH10_H_2)
        with Locations((158.75, -66.675)):
            Rectangle(SKETCH10_W_2, SKETCH10_H)
        with Locations((150.227631579, -66.675)):
            Rectangle(SKETCH10_W, SKETCH10_H)
        with Locations((119.313157895, -66.675)):
            Rectangle(SKETCH10_W_3, SKETCH10_H)
        with Locations((85.223684211, -66.675)):
            Rectangle(SKETCH10_W_4, SKETCH10_H)
        with Locations((51.134210526, -66.675)):
            Rectangle(SKETCH10_W_3, SKETCH10_H)
        with Locations((17.044736842, -66.675)):
            Rectangle(SKETCH10_W_3, SKETCH10_H)
        with Locations((-17.044736842, -66.675)):
            Rectangle(SKETCH10_W_3, SKETCH10_H)
        with Locations((-51.134210526, -66.675)):
            Rectangle(SKETCH10_W_3, SKETCH10_H)
        with Locations((-85.223684211, -66.675)):
            Rectangle(SKETCH10_W_4, SKETCH10_H)
        with Locations((-119.313157895, -66.675)):
            Rectangle(SKETCH10_W_3, SKETCH10_H)
        with Locations((-158.75, -66.675)):
            Rectangle(SKETCH10_W_2, SKETCH10_H)
        with Locations((-150.227631579, -66.675)):
            Rectangle(SKETCH10_W, SKETCH10_H)
        with Locations((-158.75, -50.8)):
            Rectangle(SKETCH10_W_2, SKETCH10_H_2)
        with Locations((-158.75, -25.4)):
            Rectangle(SKETCH10_W_2, SKETCH10_H_2)
        with Locations((-158.75, 0)):
            Rectangle(SKETCH10_W_2, SKETCH10_H_2)
        with Locations((-158.75, 25.4)):
            Rectangle(SKETCH10_W_2, SKETCH10_H_2)
        with Locations((-158.75, 50.8)):
            Rectangle(SKETCH10_W_2, SKETCH10_H_2)
    extrude(amount=-CUT_EXTRUDE6_DEPTH, mode=Mode.SUBTRACT)


solid = part.part
